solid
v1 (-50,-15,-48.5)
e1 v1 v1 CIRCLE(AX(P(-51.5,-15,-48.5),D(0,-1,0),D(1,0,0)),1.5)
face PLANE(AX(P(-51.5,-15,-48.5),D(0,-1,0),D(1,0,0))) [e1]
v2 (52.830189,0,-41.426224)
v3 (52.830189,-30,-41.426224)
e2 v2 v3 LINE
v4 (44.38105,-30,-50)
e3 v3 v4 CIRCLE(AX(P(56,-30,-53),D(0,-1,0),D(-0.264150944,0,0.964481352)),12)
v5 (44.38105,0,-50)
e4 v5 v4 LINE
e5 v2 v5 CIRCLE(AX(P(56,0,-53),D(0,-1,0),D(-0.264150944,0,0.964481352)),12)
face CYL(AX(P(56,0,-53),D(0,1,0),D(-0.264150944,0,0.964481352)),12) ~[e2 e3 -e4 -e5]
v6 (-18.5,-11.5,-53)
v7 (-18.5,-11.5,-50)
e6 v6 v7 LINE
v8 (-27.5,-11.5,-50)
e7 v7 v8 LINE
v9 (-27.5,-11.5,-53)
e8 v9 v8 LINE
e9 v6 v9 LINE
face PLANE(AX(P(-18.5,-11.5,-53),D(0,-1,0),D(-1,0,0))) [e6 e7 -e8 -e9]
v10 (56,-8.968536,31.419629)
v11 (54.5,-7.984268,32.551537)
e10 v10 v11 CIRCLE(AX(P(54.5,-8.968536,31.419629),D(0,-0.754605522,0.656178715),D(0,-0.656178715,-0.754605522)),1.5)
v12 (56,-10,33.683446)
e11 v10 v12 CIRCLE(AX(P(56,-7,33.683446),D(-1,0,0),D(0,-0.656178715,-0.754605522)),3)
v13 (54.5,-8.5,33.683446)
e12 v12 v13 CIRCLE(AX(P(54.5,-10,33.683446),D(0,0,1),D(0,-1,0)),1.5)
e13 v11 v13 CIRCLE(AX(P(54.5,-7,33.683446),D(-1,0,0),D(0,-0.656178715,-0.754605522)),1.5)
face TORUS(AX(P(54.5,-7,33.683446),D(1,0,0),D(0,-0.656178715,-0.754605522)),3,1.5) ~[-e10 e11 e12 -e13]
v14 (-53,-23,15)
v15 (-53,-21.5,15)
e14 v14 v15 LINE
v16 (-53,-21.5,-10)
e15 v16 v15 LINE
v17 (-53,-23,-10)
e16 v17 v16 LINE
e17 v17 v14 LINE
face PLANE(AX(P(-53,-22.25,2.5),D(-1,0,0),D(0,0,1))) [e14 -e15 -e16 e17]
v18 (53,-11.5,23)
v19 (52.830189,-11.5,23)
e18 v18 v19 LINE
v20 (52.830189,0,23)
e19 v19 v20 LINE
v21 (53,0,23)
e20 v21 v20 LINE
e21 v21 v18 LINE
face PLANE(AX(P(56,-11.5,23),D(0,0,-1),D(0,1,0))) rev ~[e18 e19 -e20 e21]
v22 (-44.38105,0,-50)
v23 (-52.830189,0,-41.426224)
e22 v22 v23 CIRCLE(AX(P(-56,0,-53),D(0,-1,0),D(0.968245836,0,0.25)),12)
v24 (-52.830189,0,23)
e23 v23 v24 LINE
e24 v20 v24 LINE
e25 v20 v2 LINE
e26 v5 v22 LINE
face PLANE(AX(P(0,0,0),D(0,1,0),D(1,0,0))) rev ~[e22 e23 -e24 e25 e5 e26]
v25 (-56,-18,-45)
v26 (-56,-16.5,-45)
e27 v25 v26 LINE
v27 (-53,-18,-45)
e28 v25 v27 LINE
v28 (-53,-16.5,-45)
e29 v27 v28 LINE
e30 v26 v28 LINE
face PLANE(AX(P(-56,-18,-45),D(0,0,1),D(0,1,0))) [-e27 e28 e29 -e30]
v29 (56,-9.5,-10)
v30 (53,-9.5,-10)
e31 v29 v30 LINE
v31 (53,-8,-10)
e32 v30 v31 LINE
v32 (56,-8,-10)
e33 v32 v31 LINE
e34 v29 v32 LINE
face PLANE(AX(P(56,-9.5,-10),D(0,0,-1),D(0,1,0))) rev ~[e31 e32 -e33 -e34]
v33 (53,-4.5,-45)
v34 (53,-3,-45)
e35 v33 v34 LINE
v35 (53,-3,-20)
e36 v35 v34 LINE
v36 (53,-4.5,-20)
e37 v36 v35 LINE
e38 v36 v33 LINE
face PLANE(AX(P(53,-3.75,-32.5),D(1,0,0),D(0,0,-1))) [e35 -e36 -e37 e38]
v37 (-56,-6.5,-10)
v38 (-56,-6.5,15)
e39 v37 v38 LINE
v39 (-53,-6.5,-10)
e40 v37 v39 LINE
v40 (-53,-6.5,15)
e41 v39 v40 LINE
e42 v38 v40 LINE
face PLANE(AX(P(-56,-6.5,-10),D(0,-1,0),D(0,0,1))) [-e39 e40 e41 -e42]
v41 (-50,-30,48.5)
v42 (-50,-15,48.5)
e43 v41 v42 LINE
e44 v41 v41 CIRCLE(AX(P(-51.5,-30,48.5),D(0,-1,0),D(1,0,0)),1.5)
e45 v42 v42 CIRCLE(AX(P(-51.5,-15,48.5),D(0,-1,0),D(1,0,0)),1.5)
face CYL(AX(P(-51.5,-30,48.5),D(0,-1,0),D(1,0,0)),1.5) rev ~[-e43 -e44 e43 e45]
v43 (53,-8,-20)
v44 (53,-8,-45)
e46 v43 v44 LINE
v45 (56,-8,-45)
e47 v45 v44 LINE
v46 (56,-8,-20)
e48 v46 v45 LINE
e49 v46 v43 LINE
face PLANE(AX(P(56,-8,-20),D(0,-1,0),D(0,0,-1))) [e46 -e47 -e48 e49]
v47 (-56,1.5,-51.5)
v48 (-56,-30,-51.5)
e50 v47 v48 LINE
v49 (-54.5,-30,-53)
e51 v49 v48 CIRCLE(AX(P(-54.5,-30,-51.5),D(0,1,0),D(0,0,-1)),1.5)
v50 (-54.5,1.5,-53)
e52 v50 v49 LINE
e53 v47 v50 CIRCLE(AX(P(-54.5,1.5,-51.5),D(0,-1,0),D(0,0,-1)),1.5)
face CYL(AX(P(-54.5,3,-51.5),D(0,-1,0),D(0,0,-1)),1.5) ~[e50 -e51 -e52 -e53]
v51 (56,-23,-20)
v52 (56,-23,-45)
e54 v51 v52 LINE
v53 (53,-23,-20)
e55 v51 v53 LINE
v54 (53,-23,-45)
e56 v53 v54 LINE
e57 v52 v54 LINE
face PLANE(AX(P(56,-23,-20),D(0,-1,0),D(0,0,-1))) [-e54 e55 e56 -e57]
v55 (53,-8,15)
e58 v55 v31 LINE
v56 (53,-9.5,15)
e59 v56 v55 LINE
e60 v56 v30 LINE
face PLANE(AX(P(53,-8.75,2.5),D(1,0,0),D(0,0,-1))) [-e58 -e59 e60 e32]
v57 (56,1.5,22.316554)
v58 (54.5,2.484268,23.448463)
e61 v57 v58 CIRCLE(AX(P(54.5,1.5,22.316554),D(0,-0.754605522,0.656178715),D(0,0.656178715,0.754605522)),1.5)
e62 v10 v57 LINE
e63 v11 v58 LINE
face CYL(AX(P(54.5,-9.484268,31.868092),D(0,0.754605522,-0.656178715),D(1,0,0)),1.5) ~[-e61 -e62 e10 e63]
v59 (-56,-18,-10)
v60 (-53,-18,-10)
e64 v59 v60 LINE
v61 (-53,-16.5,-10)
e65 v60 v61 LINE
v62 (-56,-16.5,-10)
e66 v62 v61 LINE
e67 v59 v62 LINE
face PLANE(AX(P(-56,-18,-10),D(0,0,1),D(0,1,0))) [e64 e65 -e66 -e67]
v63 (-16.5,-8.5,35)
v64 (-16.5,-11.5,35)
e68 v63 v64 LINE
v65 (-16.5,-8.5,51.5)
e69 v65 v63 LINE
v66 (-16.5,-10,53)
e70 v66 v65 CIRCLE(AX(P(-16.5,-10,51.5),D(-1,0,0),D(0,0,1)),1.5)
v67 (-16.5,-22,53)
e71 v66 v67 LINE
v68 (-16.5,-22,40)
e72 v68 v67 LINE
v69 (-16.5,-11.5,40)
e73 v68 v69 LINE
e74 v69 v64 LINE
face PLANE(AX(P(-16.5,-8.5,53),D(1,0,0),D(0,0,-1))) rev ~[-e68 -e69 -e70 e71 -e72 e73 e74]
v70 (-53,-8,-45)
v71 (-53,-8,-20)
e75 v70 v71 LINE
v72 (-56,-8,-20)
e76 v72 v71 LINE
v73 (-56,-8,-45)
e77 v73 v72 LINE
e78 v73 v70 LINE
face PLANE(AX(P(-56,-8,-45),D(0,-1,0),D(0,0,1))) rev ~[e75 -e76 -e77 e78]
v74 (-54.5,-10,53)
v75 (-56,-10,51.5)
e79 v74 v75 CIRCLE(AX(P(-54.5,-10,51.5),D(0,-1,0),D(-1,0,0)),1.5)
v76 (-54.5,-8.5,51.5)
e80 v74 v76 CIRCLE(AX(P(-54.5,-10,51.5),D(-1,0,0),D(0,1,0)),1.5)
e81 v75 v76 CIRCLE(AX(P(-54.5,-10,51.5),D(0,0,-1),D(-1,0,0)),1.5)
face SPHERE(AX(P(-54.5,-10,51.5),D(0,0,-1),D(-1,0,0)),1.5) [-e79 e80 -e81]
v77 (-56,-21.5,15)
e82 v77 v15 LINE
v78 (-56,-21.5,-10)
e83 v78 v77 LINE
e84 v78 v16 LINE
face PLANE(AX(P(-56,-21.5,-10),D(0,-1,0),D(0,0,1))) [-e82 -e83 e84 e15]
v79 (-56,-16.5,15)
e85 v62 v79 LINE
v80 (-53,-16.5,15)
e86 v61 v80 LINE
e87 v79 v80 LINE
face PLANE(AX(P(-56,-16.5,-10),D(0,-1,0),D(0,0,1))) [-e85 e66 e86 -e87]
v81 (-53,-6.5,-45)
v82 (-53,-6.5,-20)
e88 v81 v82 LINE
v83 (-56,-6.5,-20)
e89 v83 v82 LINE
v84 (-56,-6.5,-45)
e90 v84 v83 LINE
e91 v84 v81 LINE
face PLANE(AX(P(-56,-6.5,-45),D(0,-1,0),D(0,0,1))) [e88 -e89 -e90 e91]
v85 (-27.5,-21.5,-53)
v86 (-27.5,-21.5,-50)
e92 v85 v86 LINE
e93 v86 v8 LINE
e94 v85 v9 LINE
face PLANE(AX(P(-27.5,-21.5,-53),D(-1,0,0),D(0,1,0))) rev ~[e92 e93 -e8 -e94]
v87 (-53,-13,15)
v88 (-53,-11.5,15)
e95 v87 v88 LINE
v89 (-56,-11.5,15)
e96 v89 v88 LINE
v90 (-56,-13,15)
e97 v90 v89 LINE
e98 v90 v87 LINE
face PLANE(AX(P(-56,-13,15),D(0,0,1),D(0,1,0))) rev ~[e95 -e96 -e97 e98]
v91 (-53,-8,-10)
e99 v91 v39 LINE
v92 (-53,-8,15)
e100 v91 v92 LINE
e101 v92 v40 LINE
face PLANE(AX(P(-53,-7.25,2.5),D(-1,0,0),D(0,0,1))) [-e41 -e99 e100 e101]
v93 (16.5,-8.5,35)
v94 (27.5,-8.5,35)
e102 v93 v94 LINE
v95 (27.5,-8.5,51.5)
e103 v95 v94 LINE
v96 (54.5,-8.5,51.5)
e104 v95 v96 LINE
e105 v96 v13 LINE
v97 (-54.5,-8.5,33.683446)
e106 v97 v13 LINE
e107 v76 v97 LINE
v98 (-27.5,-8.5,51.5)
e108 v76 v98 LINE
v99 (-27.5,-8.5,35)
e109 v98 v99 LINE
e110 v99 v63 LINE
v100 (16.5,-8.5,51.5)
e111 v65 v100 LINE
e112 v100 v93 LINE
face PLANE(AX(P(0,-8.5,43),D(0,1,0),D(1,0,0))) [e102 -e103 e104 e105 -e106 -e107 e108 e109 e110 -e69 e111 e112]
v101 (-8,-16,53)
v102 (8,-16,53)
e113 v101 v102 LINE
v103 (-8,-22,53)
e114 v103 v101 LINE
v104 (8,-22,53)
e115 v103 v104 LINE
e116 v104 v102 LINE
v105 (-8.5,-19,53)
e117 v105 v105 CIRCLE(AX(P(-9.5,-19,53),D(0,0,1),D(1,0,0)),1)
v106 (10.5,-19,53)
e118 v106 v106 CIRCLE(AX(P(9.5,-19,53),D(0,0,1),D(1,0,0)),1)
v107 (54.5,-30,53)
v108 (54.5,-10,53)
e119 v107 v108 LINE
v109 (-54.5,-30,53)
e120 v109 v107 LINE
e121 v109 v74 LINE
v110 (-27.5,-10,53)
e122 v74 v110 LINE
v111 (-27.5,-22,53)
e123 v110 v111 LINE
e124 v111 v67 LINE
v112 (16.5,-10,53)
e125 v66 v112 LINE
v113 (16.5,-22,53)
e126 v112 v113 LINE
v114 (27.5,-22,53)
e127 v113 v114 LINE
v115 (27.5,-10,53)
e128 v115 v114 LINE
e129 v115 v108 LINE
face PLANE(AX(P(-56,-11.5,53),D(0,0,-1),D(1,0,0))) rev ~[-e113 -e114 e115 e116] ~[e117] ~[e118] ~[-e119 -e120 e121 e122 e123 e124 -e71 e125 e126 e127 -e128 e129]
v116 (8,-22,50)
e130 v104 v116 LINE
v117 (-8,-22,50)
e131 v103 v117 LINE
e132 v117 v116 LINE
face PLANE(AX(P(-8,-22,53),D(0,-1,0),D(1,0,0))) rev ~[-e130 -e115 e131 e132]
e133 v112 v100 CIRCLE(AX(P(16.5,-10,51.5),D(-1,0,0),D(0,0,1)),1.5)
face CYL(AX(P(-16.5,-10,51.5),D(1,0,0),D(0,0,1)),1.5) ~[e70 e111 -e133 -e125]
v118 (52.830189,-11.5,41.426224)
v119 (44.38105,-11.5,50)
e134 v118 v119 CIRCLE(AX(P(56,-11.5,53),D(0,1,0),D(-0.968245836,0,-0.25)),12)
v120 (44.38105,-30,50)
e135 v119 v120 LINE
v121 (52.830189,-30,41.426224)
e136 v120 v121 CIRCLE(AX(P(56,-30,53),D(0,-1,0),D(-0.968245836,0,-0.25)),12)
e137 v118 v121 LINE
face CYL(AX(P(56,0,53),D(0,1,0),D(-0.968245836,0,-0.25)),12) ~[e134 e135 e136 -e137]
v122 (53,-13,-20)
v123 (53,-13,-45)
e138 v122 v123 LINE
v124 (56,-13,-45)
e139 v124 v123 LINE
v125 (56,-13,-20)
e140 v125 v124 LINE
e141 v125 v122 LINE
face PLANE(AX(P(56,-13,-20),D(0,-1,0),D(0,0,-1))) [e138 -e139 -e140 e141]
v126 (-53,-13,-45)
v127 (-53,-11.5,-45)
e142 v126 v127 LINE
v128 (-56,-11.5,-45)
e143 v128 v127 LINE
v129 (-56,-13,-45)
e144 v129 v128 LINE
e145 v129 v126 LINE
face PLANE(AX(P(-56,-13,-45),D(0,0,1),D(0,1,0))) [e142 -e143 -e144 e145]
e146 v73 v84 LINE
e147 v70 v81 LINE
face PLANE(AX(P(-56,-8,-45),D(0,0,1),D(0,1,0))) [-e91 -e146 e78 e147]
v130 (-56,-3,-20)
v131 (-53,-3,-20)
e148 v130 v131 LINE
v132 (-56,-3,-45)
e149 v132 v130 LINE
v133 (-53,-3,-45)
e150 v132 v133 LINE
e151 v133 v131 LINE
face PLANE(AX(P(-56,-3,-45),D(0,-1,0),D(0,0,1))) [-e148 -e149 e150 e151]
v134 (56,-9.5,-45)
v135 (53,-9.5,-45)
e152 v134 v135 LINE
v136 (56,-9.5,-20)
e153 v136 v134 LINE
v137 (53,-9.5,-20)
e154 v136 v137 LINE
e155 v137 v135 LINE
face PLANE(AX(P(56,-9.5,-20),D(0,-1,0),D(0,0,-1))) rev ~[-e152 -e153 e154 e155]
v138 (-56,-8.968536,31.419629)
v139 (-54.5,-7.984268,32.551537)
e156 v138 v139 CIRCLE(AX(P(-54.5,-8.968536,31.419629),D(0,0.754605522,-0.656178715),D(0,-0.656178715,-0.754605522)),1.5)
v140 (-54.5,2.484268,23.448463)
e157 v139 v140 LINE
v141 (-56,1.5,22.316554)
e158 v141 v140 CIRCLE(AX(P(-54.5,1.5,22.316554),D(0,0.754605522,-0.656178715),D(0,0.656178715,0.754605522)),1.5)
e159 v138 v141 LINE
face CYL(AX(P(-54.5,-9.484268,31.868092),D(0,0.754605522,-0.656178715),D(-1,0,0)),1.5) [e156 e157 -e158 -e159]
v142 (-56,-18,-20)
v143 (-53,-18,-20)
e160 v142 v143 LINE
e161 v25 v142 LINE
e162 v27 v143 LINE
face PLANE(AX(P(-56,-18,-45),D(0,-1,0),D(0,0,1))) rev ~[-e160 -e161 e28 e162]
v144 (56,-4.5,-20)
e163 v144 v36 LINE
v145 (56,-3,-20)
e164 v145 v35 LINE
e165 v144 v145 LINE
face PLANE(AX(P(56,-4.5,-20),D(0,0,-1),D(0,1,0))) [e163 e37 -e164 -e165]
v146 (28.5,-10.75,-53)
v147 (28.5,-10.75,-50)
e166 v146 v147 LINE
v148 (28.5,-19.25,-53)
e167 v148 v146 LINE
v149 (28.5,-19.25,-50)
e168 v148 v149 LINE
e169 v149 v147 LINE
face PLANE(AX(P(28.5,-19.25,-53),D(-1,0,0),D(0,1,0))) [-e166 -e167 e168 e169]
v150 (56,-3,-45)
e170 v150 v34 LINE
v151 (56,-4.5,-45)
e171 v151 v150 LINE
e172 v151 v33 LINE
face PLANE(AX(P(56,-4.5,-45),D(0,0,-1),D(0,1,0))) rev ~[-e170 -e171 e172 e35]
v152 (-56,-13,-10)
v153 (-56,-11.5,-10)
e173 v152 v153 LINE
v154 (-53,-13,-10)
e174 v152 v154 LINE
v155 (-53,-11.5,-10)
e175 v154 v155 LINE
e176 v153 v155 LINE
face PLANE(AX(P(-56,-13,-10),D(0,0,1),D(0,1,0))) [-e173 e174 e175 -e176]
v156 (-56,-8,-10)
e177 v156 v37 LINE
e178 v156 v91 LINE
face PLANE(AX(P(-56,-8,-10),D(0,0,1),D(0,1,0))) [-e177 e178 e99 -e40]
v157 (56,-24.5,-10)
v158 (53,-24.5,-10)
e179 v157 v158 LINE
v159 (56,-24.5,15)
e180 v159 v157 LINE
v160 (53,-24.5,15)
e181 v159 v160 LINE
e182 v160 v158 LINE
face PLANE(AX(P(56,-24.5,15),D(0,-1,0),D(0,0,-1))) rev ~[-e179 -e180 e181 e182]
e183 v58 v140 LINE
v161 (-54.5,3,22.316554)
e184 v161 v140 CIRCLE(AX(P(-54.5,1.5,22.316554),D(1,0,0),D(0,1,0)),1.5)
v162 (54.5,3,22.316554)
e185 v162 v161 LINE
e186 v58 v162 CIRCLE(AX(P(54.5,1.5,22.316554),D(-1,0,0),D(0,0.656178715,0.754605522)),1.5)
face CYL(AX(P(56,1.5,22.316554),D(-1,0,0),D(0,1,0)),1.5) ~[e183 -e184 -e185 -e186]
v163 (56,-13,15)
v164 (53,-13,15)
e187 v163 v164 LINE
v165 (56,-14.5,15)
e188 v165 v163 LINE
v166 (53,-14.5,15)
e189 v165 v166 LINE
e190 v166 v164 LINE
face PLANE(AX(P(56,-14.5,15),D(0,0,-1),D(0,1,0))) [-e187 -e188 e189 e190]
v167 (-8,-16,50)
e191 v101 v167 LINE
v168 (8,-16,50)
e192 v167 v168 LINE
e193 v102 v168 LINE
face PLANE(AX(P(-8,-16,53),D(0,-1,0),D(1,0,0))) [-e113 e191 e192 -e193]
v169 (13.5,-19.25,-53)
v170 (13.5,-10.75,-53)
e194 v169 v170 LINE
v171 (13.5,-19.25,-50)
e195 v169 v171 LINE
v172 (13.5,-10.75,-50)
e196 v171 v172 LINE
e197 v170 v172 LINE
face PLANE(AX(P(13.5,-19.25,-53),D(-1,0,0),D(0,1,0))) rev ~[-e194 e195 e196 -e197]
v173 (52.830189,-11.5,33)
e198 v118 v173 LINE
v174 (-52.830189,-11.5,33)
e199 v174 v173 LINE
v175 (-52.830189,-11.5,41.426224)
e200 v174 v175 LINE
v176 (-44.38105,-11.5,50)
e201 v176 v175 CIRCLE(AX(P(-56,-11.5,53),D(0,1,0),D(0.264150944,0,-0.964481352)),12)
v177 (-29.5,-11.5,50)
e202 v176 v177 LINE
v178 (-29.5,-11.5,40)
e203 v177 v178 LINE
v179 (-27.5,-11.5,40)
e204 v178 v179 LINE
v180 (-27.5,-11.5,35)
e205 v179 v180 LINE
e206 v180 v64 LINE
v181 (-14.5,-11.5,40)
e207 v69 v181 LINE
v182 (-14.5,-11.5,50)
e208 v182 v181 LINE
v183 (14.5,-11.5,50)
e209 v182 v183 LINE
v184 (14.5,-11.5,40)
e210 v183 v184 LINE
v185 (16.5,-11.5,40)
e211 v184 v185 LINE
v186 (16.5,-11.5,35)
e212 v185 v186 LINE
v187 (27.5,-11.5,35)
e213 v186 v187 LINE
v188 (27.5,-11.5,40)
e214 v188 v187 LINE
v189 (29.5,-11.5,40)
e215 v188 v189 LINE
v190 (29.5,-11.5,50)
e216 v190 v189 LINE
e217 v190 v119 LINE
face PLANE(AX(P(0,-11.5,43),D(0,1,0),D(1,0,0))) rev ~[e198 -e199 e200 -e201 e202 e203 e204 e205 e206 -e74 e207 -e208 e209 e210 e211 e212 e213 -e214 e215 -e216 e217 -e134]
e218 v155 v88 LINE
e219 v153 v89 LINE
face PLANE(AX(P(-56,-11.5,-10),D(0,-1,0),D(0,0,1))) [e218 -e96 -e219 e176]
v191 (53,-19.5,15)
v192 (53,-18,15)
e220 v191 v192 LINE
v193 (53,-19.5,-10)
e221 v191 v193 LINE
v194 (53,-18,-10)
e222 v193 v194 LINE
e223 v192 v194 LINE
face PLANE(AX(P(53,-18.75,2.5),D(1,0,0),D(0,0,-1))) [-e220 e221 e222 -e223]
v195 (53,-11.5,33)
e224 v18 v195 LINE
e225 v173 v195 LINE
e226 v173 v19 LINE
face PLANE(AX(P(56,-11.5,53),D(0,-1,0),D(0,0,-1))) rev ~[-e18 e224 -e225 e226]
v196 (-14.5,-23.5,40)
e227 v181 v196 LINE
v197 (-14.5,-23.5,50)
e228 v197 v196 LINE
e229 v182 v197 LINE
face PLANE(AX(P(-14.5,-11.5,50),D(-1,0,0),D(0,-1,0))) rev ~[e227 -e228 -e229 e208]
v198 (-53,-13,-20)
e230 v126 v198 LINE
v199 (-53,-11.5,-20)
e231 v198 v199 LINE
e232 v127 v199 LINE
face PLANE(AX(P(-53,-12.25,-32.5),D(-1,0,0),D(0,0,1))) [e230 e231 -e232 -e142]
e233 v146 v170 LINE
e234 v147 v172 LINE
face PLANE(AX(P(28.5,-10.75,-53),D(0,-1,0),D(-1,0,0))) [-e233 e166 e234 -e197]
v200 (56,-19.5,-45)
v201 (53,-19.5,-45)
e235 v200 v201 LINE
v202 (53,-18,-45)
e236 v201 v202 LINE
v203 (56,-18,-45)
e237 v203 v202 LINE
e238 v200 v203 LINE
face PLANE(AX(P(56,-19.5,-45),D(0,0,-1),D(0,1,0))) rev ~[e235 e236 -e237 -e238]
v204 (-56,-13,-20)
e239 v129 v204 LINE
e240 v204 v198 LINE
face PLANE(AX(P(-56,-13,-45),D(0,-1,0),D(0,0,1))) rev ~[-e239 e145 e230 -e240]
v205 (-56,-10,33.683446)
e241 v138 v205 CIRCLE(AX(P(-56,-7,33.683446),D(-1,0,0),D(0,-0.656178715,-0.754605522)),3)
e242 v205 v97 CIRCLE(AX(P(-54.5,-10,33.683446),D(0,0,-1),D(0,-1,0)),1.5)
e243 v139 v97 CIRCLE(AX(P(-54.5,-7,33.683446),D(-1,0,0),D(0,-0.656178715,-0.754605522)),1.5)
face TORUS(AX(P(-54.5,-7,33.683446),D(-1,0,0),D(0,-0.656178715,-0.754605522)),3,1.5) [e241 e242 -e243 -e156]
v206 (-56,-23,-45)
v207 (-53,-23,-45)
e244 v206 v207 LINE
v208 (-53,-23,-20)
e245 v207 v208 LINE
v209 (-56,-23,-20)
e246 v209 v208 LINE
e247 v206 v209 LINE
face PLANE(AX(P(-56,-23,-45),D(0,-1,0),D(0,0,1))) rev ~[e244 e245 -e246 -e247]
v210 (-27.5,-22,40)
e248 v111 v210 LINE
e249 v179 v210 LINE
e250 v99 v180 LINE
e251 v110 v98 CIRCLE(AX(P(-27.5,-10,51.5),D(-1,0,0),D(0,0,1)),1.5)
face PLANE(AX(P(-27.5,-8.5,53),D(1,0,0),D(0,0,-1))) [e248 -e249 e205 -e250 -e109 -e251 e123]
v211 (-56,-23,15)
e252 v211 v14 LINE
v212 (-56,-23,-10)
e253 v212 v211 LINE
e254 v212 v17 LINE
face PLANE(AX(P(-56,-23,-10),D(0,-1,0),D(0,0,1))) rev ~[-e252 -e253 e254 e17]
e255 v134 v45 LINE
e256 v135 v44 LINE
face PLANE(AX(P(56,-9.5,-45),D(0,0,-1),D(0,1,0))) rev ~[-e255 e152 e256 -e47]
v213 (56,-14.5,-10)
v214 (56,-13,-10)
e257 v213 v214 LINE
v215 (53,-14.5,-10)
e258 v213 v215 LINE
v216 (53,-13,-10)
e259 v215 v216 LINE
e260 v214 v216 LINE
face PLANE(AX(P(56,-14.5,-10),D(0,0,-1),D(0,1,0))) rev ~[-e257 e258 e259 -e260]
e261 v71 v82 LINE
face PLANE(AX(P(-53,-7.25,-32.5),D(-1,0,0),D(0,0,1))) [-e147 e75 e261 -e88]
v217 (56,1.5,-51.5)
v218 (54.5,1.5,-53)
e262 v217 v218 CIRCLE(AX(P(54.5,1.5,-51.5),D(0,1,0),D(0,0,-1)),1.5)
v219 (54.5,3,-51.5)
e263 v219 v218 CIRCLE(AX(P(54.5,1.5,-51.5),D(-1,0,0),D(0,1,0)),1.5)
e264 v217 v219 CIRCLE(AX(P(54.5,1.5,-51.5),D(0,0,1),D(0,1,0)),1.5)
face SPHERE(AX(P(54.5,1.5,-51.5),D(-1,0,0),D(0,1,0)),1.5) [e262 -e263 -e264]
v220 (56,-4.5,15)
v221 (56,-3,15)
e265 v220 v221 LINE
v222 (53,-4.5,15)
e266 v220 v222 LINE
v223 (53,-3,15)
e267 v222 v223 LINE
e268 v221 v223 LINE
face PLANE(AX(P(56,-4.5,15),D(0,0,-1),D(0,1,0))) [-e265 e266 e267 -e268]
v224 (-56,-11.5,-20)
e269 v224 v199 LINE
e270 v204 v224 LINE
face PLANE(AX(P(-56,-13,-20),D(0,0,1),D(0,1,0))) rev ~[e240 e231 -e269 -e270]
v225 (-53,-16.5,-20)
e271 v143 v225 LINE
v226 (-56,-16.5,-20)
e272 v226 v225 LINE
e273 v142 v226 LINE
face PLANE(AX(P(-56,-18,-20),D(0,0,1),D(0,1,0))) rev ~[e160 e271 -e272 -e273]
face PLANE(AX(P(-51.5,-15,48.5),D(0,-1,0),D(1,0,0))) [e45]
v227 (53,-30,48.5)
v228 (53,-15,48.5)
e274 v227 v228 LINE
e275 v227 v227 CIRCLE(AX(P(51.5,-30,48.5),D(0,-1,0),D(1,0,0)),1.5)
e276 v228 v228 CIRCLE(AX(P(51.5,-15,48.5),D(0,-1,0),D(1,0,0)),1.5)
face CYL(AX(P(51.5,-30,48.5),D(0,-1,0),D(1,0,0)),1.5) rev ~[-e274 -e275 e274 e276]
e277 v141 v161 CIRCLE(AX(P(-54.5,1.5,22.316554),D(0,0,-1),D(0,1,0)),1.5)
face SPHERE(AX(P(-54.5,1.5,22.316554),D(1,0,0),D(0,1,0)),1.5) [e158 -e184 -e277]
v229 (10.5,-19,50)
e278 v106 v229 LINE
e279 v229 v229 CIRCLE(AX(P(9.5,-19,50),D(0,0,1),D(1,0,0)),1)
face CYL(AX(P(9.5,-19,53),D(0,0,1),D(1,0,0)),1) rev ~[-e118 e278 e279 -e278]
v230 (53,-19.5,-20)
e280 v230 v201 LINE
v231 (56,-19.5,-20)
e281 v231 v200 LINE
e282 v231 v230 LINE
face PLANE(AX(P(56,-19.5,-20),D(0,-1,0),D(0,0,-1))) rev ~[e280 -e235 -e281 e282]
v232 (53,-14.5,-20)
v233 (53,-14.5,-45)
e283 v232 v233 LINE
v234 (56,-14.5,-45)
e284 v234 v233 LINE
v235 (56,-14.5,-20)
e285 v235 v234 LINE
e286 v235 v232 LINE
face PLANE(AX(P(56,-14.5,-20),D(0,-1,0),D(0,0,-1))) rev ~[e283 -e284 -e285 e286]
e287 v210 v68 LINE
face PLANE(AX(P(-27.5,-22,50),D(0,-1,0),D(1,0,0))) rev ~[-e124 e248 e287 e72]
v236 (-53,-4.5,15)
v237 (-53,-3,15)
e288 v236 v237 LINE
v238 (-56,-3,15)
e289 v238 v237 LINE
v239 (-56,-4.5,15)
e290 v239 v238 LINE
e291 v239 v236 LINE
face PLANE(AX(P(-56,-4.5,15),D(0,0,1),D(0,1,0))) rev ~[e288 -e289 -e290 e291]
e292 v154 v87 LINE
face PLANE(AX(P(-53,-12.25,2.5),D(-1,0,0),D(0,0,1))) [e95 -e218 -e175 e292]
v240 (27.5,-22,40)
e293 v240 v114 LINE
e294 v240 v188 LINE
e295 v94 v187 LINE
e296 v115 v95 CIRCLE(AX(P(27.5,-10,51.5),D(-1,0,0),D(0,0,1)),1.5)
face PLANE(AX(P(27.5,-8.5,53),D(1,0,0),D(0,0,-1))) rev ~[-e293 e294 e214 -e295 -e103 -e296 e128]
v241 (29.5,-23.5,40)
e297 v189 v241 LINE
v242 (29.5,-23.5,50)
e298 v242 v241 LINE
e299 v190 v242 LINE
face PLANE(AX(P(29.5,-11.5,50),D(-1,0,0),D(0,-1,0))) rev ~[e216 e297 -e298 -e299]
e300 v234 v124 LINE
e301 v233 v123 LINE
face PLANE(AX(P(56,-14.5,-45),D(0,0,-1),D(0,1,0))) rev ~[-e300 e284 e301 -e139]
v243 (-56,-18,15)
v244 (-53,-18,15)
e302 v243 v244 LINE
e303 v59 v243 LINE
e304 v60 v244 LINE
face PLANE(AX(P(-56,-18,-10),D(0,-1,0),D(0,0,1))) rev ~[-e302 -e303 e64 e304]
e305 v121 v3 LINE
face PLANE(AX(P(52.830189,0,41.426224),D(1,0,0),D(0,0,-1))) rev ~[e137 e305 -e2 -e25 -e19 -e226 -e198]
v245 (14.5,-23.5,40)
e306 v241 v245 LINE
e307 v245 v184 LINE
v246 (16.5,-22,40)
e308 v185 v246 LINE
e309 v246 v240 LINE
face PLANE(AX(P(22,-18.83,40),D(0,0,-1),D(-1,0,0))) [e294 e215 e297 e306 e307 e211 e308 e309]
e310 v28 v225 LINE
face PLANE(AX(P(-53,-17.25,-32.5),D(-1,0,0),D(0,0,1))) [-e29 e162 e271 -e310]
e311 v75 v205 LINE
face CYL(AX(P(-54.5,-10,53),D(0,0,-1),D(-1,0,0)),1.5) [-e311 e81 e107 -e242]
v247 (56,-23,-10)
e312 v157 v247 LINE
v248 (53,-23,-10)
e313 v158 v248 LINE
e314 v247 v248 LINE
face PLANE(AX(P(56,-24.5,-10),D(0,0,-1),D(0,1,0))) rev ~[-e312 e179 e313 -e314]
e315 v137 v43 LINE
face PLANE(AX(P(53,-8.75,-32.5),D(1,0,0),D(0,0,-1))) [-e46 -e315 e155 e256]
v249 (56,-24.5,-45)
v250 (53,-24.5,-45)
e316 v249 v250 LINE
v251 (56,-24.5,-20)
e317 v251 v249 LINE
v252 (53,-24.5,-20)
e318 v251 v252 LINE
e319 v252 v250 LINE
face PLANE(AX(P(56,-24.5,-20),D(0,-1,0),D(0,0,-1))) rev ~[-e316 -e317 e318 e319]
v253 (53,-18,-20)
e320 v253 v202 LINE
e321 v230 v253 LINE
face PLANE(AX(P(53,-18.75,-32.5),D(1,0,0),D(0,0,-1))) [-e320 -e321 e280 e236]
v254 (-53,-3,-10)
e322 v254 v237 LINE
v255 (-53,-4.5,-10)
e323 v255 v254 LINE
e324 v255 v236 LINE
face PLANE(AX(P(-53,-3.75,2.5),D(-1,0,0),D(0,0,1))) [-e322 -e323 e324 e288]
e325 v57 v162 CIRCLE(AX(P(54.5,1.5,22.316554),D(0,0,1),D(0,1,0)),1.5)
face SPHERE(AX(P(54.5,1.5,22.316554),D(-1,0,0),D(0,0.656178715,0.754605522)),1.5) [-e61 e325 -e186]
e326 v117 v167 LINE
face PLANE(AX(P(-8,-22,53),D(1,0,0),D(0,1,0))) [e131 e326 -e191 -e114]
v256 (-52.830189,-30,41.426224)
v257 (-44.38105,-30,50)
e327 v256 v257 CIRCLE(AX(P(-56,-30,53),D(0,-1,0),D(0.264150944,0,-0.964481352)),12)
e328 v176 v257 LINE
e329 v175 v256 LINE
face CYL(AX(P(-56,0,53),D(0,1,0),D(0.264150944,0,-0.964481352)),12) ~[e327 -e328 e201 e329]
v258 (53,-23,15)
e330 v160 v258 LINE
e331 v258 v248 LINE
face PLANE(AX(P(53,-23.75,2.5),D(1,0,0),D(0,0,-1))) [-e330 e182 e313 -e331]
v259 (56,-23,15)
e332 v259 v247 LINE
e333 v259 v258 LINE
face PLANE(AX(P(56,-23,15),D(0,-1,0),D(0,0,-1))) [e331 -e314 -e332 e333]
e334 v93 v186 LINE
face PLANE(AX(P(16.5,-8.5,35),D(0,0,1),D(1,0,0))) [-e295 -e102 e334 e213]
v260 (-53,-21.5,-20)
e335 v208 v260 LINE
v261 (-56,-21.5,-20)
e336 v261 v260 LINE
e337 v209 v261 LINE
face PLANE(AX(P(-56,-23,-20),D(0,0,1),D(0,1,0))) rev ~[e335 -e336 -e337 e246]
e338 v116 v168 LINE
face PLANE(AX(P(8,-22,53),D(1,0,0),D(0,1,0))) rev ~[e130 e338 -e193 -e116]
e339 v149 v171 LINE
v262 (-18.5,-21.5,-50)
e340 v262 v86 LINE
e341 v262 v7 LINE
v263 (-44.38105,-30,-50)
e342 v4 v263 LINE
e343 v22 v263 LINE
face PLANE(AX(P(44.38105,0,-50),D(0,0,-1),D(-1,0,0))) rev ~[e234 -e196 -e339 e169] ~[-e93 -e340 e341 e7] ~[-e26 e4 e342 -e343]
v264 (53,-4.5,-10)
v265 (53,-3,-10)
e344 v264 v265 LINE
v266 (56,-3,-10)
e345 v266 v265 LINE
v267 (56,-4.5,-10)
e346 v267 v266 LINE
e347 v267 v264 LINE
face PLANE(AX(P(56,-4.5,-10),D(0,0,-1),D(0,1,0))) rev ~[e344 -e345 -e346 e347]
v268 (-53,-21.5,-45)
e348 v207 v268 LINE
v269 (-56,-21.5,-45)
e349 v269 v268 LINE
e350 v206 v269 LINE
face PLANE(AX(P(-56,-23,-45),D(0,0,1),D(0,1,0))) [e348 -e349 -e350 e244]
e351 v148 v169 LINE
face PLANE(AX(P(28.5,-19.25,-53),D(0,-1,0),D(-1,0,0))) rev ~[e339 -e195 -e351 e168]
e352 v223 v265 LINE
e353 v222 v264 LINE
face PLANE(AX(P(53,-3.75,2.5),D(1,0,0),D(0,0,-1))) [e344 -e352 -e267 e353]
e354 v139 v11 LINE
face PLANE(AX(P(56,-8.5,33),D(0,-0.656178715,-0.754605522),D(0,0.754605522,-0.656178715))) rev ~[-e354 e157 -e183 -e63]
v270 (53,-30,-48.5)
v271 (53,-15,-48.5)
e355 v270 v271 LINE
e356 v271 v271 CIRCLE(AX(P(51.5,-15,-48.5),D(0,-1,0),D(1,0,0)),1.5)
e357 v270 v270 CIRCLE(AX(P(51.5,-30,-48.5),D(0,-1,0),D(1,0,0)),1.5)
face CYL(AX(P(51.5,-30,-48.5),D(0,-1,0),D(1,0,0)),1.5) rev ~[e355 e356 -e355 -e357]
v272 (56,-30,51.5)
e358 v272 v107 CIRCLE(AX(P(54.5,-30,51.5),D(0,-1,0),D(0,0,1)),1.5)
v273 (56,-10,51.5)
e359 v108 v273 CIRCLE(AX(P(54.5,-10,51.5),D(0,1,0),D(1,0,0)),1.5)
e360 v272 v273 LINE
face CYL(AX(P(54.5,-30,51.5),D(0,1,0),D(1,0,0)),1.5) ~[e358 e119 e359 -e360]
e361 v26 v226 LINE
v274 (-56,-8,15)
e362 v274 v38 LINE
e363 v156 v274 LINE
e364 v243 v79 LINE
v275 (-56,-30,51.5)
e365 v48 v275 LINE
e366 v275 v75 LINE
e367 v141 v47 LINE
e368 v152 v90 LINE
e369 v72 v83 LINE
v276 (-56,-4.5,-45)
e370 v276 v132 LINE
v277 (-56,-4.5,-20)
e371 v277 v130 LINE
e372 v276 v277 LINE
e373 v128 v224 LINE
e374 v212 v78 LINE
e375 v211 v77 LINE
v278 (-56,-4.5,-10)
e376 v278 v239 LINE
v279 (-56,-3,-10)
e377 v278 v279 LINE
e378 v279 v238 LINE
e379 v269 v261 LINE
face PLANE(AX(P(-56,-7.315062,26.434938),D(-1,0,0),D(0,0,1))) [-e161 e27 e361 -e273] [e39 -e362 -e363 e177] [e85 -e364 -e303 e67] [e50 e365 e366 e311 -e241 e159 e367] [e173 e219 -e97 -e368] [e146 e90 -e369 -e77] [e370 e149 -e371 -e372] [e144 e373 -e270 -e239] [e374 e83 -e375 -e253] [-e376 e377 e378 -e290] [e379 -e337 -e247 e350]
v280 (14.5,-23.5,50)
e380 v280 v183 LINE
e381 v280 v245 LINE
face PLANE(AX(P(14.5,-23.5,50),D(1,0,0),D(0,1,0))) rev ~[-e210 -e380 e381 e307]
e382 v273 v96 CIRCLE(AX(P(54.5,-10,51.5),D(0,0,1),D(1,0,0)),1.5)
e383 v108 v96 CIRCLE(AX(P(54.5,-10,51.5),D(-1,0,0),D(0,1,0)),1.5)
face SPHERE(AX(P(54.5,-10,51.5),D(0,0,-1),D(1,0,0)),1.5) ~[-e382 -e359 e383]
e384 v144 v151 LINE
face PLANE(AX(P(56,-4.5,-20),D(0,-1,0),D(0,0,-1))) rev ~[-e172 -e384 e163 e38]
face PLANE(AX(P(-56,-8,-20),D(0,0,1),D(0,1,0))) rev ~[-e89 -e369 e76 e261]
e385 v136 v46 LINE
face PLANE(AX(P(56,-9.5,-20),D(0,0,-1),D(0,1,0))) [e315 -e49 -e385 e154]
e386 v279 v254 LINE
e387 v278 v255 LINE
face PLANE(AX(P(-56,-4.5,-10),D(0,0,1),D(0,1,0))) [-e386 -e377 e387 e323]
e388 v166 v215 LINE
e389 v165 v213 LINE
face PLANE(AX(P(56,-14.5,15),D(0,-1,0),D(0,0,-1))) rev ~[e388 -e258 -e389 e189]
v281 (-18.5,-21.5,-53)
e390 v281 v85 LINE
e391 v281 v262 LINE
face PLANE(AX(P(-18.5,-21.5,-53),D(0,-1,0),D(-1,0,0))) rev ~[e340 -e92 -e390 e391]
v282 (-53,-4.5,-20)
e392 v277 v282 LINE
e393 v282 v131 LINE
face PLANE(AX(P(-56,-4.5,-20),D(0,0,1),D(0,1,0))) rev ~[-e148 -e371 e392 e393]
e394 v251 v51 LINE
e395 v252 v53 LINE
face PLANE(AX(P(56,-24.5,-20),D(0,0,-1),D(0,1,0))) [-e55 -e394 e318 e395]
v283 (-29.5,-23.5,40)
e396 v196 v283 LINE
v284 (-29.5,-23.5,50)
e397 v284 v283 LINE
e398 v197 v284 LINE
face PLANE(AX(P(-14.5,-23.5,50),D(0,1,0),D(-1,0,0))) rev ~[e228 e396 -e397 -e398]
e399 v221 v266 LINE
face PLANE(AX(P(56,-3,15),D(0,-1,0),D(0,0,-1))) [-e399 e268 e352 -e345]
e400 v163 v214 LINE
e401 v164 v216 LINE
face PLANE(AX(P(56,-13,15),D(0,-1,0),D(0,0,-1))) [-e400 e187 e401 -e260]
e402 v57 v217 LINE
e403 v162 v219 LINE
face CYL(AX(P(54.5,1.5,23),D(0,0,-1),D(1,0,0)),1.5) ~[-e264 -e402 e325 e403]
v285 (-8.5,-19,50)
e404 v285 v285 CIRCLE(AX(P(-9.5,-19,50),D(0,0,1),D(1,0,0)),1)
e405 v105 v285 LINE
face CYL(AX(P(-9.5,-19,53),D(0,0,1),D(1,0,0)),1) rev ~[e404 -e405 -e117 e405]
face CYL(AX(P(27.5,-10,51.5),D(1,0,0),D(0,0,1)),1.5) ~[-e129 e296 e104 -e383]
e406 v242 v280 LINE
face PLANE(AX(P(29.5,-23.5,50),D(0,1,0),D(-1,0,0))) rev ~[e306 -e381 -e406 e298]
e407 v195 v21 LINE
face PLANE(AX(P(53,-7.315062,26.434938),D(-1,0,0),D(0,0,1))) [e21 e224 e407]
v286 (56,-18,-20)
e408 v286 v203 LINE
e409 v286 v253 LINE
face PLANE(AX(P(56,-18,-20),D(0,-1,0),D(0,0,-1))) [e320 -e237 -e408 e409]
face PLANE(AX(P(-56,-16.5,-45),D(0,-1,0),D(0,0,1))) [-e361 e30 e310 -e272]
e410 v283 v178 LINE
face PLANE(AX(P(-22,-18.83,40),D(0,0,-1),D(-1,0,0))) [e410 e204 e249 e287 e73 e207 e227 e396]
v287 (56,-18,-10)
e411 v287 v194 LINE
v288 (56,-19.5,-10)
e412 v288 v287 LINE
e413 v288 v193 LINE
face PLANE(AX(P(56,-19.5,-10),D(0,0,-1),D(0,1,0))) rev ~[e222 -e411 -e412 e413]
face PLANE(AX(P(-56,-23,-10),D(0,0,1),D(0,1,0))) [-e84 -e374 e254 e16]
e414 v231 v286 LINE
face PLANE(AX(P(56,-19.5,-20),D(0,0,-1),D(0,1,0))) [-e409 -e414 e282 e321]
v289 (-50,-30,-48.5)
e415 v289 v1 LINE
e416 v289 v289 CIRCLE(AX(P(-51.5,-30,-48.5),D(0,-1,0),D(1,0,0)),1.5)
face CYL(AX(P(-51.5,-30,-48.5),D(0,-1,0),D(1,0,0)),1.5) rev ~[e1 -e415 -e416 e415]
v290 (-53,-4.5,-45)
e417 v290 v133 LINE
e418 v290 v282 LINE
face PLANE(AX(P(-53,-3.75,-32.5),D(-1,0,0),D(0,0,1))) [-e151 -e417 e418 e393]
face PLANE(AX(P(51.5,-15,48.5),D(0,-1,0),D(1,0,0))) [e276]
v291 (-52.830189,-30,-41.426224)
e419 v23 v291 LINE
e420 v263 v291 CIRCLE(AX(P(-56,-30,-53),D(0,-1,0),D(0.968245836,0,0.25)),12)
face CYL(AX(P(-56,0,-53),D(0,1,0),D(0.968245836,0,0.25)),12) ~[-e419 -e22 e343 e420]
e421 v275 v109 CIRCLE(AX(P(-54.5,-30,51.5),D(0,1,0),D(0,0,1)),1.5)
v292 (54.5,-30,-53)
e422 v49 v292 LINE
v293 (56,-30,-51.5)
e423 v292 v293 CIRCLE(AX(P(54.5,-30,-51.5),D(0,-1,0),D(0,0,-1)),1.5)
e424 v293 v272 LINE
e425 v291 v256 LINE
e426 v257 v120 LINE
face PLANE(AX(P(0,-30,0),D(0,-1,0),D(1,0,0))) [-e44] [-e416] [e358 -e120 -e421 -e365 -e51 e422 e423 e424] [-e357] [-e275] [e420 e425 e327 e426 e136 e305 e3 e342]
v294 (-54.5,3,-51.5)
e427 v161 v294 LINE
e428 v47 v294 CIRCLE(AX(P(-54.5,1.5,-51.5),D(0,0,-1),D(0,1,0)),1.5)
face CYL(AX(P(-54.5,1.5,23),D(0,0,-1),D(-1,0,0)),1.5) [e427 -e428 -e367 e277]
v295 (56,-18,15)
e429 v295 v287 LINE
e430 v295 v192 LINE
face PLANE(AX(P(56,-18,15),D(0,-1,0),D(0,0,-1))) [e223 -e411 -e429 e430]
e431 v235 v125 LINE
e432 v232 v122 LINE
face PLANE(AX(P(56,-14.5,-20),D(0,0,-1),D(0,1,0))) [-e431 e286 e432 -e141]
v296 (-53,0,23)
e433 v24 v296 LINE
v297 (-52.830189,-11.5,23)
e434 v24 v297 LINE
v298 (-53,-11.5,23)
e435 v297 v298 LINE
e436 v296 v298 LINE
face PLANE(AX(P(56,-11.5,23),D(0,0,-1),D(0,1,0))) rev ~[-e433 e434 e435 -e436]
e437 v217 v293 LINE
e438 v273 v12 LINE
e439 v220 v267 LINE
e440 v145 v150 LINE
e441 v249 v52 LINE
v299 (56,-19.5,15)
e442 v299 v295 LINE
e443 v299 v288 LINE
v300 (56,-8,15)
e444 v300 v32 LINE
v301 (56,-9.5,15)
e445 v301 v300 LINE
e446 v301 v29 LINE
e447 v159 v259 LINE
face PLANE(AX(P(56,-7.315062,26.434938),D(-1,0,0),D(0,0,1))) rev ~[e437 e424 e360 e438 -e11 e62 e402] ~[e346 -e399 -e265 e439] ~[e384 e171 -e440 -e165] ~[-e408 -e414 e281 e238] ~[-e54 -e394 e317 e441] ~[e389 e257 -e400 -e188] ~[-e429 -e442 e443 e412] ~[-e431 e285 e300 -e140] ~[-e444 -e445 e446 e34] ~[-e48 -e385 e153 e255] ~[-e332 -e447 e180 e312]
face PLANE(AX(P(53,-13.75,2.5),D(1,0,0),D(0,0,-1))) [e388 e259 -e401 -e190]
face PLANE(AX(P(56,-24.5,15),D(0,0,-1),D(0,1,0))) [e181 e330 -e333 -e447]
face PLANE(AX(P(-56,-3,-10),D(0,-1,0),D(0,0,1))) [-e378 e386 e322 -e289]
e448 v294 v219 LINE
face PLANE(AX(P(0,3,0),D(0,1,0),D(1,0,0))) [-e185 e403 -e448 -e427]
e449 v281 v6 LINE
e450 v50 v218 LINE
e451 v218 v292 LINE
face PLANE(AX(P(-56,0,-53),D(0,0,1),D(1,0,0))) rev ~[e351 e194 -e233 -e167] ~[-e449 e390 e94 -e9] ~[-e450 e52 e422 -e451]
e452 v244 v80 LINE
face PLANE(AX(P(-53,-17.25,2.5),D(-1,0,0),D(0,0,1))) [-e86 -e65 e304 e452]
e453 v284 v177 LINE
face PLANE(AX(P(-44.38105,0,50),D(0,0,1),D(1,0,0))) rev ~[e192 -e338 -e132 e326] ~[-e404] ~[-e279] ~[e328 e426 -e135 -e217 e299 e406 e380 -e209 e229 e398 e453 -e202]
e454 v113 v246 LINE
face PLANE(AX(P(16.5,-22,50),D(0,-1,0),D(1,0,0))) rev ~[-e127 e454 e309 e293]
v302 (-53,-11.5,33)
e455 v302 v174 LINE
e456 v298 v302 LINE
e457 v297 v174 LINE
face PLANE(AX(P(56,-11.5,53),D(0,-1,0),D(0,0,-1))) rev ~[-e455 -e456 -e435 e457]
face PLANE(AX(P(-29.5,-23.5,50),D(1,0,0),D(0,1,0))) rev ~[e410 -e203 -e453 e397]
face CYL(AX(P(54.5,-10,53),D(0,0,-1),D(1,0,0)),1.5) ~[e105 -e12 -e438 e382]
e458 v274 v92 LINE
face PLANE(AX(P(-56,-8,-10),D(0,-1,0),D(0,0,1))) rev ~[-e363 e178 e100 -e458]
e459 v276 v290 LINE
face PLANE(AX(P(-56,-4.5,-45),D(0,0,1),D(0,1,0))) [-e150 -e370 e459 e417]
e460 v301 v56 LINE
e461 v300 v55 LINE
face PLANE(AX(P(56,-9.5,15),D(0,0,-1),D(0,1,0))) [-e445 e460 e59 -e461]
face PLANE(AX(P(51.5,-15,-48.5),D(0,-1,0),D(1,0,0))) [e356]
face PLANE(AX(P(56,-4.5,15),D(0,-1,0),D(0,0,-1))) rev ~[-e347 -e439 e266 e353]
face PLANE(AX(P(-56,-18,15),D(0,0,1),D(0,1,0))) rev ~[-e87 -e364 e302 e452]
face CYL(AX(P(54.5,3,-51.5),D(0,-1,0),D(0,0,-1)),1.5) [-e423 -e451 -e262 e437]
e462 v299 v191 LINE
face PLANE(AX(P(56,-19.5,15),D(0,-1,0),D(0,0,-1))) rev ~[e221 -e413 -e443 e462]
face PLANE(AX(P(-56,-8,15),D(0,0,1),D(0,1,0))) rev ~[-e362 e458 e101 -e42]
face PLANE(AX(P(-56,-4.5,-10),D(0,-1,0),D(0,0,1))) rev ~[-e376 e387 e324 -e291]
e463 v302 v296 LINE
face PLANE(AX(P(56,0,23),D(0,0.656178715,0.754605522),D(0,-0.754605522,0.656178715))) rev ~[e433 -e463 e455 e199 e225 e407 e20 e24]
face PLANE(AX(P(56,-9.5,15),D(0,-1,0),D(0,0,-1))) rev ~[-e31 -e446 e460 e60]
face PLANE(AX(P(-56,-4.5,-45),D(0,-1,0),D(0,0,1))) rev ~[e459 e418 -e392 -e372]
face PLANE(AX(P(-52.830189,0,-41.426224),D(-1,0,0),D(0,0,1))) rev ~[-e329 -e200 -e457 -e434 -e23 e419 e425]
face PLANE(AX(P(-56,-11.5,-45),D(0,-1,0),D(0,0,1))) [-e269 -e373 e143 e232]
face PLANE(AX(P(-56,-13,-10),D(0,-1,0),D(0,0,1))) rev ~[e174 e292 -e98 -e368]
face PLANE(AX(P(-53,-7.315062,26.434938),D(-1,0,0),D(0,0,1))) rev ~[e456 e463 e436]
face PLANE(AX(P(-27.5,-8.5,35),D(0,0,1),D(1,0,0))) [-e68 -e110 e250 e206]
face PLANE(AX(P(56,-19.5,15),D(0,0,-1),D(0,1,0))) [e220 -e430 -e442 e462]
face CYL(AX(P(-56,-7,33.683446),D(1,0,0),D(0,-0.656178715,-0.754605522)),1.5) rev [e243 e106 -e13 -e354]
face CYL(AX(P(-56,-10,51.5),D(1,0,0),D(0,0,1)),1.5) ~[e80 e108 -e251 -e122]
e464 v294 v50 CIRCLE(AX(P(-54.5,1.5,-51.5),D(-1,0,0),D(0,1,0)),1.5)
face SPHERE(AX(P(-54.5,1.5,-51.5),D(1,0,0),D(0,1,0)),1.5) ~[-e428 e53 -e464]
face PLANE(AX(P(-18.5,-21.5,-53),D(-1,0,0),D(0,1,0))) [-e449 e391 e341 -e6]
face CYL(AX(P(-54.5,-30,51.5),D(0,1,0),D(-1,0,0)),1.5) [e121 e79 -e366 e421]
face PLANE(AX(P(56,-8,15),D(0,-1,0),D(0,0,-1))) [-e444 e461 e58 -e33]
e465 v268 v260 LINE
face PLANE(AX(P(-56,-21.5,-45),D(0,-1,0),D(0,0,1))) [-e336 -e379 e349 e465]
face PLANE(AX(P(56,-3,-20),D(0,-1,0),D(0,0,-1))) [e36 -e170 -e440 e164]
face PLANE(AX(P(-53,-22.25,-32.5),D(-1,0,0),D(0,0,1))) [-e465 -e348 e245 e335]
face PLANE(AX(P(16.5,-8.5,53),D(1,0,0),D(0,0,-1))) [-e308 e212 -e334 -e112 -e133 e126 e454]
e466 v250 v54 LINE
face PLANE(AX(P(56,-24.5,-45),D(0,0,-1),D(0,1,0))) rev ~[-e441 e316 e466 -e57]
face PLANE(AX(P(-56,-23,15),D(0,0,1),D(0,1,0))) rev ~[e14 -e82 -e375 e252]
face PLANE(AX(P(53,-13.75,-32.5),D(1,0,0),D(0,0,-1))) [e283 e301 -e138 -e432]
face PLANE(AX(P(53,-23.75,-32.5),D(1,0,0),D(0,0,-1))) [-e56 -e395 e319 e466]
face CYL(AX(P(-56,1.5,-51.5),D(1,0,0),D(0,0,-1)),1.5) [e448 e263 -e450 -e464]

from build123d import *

# Parameters (mm, degrees)
SKETCH1_W            = 112
SKETCH1_H            = 106
BOSS_EXTRUDE1_DEPTH  = 3
SKETCH3_W            = 112
SKETCH3_H            = 106
BOSS_EXTRUDE2_DEPTH  = 30
SKETCH4_R            = 1.5
CUT_EXTRUDE1_DEPTH   = 15
SKETCH5_R            = 1
SKETCH5_W            = 16
SKETCH5_H            = 6
CUT_EXTRUDE2_DEPTH   = 3
SKETCH7_W            = 30
SKETCH7_H            = 14.5
CUT_EXTRUDE4_DEPTH   = 112
SKETCH9_W            = 112
SKETCH9_H            = 20
BOSS_EXTRUDE3_DEPTH  = 3
SKETCH10_W           = 11
SKETCH10_H           = 18
CUT_EXTRUDE5_DEPTH   = 13.5
BOSS_EXTRUDE4_DEPTH  = 112
BOSS_EXTRUDE5_DEPTH  = 3
BOSS_EXTRUDE6_DEPTH  = 3
SKETCH19_W           = 9
SKETCH19_H           = 10
CUT_EXTRUDE7_DEPTH   = 3
SKETCH20_W           = 12
SKETCH20_H           = 13
SKETCH20_W_2         = 9
SKETCH20_H_2         = 10
BOSS_EXTRUDE8_DEPTH  = 3
SKETCH21_W           = 15
SKETCH21_H           = 8.5
CUT_EXTRUDE8_DEPTH   = 3
SKETCH23_W           = 25
SKETCH23_H           = 1.5
CUT_EXTRUDE9_DEPTH   = 3
SKETCH24_W           = 25
SKETCH24_H           = 1.5
CUT_EXTRUDE10_DEPTH  = 3
FILLET1_R            = 1.5
BOSS_EXTRUDE16_DEPTH = 10


with BuildPart() as part:
    # Sketch1 → Boss-Extrude1 (new body)
    with BuildSketch(Plane(origin=(0, 0, 0), x_dir=(1, 0, 0), z_dir=(0, 1, 0))):
        Rectangle(SKETCH1_W, SKETCH1_H)
    extrude(amount=BOSS_EXTRUDE1_DEPTH)

    # Sketch3 → Boss-Extrude2 (add)
    with BuildSketch(Plane.XZ):
        Rectangle(SKETCH3_W, SKETCH3_H)
        with BuildLine():
            Line((44.381049961, -50), (-44.381049961, -50))
            ThreePointArc((-44.381049961, -50), (-47.452820621, -44.577071492), (-52.830188679, -41.426223771))
            Line((-52.830188679, -41.426223771), (-52.830188679, 41.426223771))
            ThreePointArc((-52.830188679, 41.426223771), (-47.452820621, 44.577071492), (-44.381049961, 50))
            Line((-44.381049961, 50), (44.381049961, 50))
            ThreePointArc((44.381049961, 50), (47.452820621, 44.577071492), (52.830188679, 41.426223771))
            Line((52.830188679, 41.426223771), (52.830188679, -41.426223771))
            ThreePointArc((52.830188679, -41.426223771), (47.452820621, -44.577071492), (44.381049961, -50))
        make_face(mode=Mode.SUBTRACT)
    extrude(amount=BOSS_EXTRUDE2_DEPTH)

    # Sketch4 → Cut-Extrude1 (cut)
    with BuildSketch(Plane.XZ.offset(30)):
        with Locations((-51.5, -48.5)):
            Circle(SKETCH4_R)
        with Locations((51.5, -48.5)):
            Circle(SKETCH4_R)
        with Locations((-51.5, 48.5)):
            Circle(SKETCH4_R)
        with Locations((51.5, 48.5)):
            Circle(SKETCH4_R)
    extrude(amount=-CUT_EXTRUDE1_DEPTH, mode=Mode.SUBTRACT)

    # Sketch5 → Cut-Extrude2 (cut)
    with BuildSketch(Plane.XY.offset(53)):
        with Locations((9.5, -19)):
            Circle(SKETCH5_R)
        with Locations((-9.5, -19)):
            Circle(SKETCH5_R)
        with Locations((0, -19)):
            Rectangle(SKETCH5_W, SKETCH5_H)
    extrude(amount=-CUT_EXTRUDE2_DEPTH, mode=Mode.SUBTRACT)

    # Sketch7 → Cut-Extrude4 (cut)
    with BuildSketch(Plane(origin=(56, 0, 0), x_dir=(0, 0, -1), z_dir=(1, 0, 0))):
        with Locations((-38, -4.25)):
            Rectangle(SKETCH7_W, SKETCH7_H)
    extrude(amount=-CUT_EXTRUDE4_DEPTH, mode=Mode.SUBTRACT)

    # Sketch9 → Boss-Extrude3 (add)
    with BuildSketch(Plane(origin=(0, -11.5, 0), x_dir=(1, 0, 0), z_dir=(0, 1, 0))):
        with Locations((0, -43)):
            Rectangle(SKETCH9_W, SKETCH9_H)
    extrude(amount=BOSS_EXTRUDE3_DEPTH)

    # Sketch10 → Cut-Extrude5 (cut)
    with BuildSketch(Plane(origin=(0, -8.5, 0), x_dir=(1, 0, 0), z_dir=(0, 1, 0))):
        with Locations((-22, -44)):
            Rectangle(SKETCH10_W, SKETCH10_H)
        with Locations((22, -44)):
            Rectangle(SKETCH10_W, SKETCH10_H)
    extrude(amount=-CUT_EXTRUDE5_DEPTH, mode=Mode.SUBTRACT)

    # Sketch11 → Boss-Extrude4 (add)
    with BuildSketch(Plane(origin=(56, 0, 0), x_dir=(0, 0, -1), z_dir=(1, 0, 0))):
        Polygon((-33, -8.5), (-23, 3), (-23, 0), (-33, -11.5), align=None)
    extrude(amount=-BOSS_EXTRUDE4_DEPTH)

    # Sketch13 → Boss-Extrude5 (add)
    with BuildSketch(Plane(origin=(56, 0, 0), x_dir=(0, 0, -1), z_dir=(1, 0, 0))):
        Polygon((-33, -11.5), (-23, 0), (-23, -11.5), align=None)
    extrude(amount=-BOSS_EXTRUDE5_DEPTH)

    # Sketch14 → Boss-Extrude6 (add)
    with BuildSketch(Plane.ZY.offset(56)):
        Polygon((23, 0), (23, -11.5), (33, -11.5), align=None)
    extrude(amount=-BOSS_EXTRUDE6_DEPTH)

    # Sketch19 → Cut-Extrude7 (cut)
    with BuildSketch(Plane(origin=(0, 0, -53), x_dir=(-1, 0, 0), z_dir=(0, 0, -1))):
        with Locations((23, -16.5)):
            Rectangle(SKETCH19_W, SKETCH19_H)
    extrude(amount=-CUT_EXTRUDE7_DEPTH, mode=Mode.SUBTRACT)

    # Sketch20 → Boss-Extrude8 (add)
    with BuildSketch(Plane.XY.offset(-53)):
        with Locations((-23, -16.5)):
            Rectangle(SKETCH20_W, SKETCH20_H)
        with Locations((-23, -16.5)):
            Rectangle(SKETCH20_W_2, SKETCH20_H_2, mode=Mode.SUBTRACT)
    extrude(amount=BOSS_EXTRUDE8_DEPTH)

    # Sketch21 → Cut-Extrude8 (cut)
    with BuildSketch(Plane(origin=(0, 0, -53), x_dir=(-1, 0, 0), z_dir=(0, 0, -1))):
        with Locations((-21, -15)):
            Rectangle(SKETCH21_W, SKETCH21_H)
    extrude(amount=-CUT_EXTRUDE8_DEPTH, mode=Mode.SUBTRACT)

    # Sketch23 → Cut-Extrude9 (cut)
    with BuildSketch(Plane(origin=(56, 0, 0), x_dir=(0, 0, -1), z_dir=(1, 0, 0))):
        with Locations((32.5, -8.75)):
            Rectangle(SKETCH23_W, SKETCH23_H)
        with Locations((32.5, -3.75)):
            Rectangle(SKETCH23_W, SKETCH23_H)
        with Locations((32.5, -13.75)):
            Rectangle(SKETCH23_W, SKETCH23_H)
        with Locations((32.5, -18.75)):
            Rectangle(SKETCH23_W, SKETCH23_H)
        with Locations((32.5, -23.75)):
            Rectangle(SKETCH23_W, SKETCH23_H)
        with Locations((-2.5, -23.75)):
            Rectangle(SKETCH23_W, SKETCH23_H)
        with Locations((-2.5, -18.75)):
            Rectangle(SKETCH23_W, SKETCH23_H)
        with Locations((-2.5, -13.75)):
            Rectangle(SKETCH23_W, SKETCH23_H)
        with Locations((-2.5, -8.75)):
            Rectangle(SKETCH23_W, SKETCH23_H)
        with Locations((-2.5, -3.75)):
            Rectangle(SKETCH23_W, SKETCH23_H)
    extrude(amount=-CUT_EXTRUDE9_DEPTH, mode=Mode.SUBTRACT)

    # Sketch24 → Cut-Extrude10 (cut)
    with BuildSketch(Plane.ZY.offset(56)):
        with Locations((2.5, -7.25)):
            Rectangle(SKETCH24_W, SKETCH24_H)
        with Locations((2.5, -3.75)):
            Rectangle(SKETCH24_W, SKETCH24_H)
        with Locations((2.5, -12.25)):
            Rectangle(SKETCH24_W, SKETCH24_H)
        with Locations((2.5, -17.25)):
            Rectangle(SKETCH24_W, SKETCH24_H)
        with Locations((2.5, -22.25)):
            Rectangle(SKETCH24_W, SKETCH24_H)
        with Locations((-32.5, -22.25)):
            Rectangle(SKETCH24_W, SKETCH24_H)
        with Locations((-32.5, -17.25)):
            Rectangle(SKETCH24_W, SKETCH24_H)
        with Locations((-32.5, -12.25)):
            Rectangle(SKETCH24_W, SKETCH24_H)
        with Locations((-32.5, -7.25)):
            Rectangle(SKETCH24_W, SKETCH24_H)
        with Locations((-32.5, -3.75)):
            Rectangle(SKETCH24_W, SKETCH24_H)
    extrude(amount=-CUT_EXTRUDE10_DEPTH, mode=Mode.SUBTRACT)

    # Fillet1
    fillet1_edges = [part.edges().sort_by_distance(p)[0] for p in [
        (56, -8.5, 43),
        (-56, -8.5, 43),
        (0, -8.5, 33),
        (-56, -2.75, 28),
        (56, -2.75, 28),
        (0, 3, -53),
        (56, 3, -15),
        (0, 3, 23),
        (-56, 3, -15),
        (-56, -13.5, -53),
        (56, -13.5, -53),
        (56, -19.25, 53),
        (-56, -19.25, 53),
        (41.75, -8.5, 53),
        (-41.75, -8.5, 53),
        (0, -8.5, 53),
    ]]
    fillet(fillet1_edges, radius=FILLET1_R)

    # Sketch31 → Boss-Extrude16 (add)
    with BuildSketch(Plane(origin=(0, 0, 50), x_dir=(-1, 0, 0), z_dir=(0, 0, -1))):
        Polygon((16.5, -11.5), (14.5, -11.5), (14.5, -23.5), (29.5, -23.5), (29.5, -11.5), (27.5, -11.5), (27.5, -22), (16.5, -22), align=None)
        Polygon((-27.5, -11.5), (-29.5, -11.5), (-29.5, -23.5), (-14.5, -23.5), (-14.5, -11.5), (-16.5, -11.5), (-16.5, -22), (-27.5, -22), align=None)
    extrude(amount=BOSS_EXTRUDE16_DEPTH)


solid = part.part
